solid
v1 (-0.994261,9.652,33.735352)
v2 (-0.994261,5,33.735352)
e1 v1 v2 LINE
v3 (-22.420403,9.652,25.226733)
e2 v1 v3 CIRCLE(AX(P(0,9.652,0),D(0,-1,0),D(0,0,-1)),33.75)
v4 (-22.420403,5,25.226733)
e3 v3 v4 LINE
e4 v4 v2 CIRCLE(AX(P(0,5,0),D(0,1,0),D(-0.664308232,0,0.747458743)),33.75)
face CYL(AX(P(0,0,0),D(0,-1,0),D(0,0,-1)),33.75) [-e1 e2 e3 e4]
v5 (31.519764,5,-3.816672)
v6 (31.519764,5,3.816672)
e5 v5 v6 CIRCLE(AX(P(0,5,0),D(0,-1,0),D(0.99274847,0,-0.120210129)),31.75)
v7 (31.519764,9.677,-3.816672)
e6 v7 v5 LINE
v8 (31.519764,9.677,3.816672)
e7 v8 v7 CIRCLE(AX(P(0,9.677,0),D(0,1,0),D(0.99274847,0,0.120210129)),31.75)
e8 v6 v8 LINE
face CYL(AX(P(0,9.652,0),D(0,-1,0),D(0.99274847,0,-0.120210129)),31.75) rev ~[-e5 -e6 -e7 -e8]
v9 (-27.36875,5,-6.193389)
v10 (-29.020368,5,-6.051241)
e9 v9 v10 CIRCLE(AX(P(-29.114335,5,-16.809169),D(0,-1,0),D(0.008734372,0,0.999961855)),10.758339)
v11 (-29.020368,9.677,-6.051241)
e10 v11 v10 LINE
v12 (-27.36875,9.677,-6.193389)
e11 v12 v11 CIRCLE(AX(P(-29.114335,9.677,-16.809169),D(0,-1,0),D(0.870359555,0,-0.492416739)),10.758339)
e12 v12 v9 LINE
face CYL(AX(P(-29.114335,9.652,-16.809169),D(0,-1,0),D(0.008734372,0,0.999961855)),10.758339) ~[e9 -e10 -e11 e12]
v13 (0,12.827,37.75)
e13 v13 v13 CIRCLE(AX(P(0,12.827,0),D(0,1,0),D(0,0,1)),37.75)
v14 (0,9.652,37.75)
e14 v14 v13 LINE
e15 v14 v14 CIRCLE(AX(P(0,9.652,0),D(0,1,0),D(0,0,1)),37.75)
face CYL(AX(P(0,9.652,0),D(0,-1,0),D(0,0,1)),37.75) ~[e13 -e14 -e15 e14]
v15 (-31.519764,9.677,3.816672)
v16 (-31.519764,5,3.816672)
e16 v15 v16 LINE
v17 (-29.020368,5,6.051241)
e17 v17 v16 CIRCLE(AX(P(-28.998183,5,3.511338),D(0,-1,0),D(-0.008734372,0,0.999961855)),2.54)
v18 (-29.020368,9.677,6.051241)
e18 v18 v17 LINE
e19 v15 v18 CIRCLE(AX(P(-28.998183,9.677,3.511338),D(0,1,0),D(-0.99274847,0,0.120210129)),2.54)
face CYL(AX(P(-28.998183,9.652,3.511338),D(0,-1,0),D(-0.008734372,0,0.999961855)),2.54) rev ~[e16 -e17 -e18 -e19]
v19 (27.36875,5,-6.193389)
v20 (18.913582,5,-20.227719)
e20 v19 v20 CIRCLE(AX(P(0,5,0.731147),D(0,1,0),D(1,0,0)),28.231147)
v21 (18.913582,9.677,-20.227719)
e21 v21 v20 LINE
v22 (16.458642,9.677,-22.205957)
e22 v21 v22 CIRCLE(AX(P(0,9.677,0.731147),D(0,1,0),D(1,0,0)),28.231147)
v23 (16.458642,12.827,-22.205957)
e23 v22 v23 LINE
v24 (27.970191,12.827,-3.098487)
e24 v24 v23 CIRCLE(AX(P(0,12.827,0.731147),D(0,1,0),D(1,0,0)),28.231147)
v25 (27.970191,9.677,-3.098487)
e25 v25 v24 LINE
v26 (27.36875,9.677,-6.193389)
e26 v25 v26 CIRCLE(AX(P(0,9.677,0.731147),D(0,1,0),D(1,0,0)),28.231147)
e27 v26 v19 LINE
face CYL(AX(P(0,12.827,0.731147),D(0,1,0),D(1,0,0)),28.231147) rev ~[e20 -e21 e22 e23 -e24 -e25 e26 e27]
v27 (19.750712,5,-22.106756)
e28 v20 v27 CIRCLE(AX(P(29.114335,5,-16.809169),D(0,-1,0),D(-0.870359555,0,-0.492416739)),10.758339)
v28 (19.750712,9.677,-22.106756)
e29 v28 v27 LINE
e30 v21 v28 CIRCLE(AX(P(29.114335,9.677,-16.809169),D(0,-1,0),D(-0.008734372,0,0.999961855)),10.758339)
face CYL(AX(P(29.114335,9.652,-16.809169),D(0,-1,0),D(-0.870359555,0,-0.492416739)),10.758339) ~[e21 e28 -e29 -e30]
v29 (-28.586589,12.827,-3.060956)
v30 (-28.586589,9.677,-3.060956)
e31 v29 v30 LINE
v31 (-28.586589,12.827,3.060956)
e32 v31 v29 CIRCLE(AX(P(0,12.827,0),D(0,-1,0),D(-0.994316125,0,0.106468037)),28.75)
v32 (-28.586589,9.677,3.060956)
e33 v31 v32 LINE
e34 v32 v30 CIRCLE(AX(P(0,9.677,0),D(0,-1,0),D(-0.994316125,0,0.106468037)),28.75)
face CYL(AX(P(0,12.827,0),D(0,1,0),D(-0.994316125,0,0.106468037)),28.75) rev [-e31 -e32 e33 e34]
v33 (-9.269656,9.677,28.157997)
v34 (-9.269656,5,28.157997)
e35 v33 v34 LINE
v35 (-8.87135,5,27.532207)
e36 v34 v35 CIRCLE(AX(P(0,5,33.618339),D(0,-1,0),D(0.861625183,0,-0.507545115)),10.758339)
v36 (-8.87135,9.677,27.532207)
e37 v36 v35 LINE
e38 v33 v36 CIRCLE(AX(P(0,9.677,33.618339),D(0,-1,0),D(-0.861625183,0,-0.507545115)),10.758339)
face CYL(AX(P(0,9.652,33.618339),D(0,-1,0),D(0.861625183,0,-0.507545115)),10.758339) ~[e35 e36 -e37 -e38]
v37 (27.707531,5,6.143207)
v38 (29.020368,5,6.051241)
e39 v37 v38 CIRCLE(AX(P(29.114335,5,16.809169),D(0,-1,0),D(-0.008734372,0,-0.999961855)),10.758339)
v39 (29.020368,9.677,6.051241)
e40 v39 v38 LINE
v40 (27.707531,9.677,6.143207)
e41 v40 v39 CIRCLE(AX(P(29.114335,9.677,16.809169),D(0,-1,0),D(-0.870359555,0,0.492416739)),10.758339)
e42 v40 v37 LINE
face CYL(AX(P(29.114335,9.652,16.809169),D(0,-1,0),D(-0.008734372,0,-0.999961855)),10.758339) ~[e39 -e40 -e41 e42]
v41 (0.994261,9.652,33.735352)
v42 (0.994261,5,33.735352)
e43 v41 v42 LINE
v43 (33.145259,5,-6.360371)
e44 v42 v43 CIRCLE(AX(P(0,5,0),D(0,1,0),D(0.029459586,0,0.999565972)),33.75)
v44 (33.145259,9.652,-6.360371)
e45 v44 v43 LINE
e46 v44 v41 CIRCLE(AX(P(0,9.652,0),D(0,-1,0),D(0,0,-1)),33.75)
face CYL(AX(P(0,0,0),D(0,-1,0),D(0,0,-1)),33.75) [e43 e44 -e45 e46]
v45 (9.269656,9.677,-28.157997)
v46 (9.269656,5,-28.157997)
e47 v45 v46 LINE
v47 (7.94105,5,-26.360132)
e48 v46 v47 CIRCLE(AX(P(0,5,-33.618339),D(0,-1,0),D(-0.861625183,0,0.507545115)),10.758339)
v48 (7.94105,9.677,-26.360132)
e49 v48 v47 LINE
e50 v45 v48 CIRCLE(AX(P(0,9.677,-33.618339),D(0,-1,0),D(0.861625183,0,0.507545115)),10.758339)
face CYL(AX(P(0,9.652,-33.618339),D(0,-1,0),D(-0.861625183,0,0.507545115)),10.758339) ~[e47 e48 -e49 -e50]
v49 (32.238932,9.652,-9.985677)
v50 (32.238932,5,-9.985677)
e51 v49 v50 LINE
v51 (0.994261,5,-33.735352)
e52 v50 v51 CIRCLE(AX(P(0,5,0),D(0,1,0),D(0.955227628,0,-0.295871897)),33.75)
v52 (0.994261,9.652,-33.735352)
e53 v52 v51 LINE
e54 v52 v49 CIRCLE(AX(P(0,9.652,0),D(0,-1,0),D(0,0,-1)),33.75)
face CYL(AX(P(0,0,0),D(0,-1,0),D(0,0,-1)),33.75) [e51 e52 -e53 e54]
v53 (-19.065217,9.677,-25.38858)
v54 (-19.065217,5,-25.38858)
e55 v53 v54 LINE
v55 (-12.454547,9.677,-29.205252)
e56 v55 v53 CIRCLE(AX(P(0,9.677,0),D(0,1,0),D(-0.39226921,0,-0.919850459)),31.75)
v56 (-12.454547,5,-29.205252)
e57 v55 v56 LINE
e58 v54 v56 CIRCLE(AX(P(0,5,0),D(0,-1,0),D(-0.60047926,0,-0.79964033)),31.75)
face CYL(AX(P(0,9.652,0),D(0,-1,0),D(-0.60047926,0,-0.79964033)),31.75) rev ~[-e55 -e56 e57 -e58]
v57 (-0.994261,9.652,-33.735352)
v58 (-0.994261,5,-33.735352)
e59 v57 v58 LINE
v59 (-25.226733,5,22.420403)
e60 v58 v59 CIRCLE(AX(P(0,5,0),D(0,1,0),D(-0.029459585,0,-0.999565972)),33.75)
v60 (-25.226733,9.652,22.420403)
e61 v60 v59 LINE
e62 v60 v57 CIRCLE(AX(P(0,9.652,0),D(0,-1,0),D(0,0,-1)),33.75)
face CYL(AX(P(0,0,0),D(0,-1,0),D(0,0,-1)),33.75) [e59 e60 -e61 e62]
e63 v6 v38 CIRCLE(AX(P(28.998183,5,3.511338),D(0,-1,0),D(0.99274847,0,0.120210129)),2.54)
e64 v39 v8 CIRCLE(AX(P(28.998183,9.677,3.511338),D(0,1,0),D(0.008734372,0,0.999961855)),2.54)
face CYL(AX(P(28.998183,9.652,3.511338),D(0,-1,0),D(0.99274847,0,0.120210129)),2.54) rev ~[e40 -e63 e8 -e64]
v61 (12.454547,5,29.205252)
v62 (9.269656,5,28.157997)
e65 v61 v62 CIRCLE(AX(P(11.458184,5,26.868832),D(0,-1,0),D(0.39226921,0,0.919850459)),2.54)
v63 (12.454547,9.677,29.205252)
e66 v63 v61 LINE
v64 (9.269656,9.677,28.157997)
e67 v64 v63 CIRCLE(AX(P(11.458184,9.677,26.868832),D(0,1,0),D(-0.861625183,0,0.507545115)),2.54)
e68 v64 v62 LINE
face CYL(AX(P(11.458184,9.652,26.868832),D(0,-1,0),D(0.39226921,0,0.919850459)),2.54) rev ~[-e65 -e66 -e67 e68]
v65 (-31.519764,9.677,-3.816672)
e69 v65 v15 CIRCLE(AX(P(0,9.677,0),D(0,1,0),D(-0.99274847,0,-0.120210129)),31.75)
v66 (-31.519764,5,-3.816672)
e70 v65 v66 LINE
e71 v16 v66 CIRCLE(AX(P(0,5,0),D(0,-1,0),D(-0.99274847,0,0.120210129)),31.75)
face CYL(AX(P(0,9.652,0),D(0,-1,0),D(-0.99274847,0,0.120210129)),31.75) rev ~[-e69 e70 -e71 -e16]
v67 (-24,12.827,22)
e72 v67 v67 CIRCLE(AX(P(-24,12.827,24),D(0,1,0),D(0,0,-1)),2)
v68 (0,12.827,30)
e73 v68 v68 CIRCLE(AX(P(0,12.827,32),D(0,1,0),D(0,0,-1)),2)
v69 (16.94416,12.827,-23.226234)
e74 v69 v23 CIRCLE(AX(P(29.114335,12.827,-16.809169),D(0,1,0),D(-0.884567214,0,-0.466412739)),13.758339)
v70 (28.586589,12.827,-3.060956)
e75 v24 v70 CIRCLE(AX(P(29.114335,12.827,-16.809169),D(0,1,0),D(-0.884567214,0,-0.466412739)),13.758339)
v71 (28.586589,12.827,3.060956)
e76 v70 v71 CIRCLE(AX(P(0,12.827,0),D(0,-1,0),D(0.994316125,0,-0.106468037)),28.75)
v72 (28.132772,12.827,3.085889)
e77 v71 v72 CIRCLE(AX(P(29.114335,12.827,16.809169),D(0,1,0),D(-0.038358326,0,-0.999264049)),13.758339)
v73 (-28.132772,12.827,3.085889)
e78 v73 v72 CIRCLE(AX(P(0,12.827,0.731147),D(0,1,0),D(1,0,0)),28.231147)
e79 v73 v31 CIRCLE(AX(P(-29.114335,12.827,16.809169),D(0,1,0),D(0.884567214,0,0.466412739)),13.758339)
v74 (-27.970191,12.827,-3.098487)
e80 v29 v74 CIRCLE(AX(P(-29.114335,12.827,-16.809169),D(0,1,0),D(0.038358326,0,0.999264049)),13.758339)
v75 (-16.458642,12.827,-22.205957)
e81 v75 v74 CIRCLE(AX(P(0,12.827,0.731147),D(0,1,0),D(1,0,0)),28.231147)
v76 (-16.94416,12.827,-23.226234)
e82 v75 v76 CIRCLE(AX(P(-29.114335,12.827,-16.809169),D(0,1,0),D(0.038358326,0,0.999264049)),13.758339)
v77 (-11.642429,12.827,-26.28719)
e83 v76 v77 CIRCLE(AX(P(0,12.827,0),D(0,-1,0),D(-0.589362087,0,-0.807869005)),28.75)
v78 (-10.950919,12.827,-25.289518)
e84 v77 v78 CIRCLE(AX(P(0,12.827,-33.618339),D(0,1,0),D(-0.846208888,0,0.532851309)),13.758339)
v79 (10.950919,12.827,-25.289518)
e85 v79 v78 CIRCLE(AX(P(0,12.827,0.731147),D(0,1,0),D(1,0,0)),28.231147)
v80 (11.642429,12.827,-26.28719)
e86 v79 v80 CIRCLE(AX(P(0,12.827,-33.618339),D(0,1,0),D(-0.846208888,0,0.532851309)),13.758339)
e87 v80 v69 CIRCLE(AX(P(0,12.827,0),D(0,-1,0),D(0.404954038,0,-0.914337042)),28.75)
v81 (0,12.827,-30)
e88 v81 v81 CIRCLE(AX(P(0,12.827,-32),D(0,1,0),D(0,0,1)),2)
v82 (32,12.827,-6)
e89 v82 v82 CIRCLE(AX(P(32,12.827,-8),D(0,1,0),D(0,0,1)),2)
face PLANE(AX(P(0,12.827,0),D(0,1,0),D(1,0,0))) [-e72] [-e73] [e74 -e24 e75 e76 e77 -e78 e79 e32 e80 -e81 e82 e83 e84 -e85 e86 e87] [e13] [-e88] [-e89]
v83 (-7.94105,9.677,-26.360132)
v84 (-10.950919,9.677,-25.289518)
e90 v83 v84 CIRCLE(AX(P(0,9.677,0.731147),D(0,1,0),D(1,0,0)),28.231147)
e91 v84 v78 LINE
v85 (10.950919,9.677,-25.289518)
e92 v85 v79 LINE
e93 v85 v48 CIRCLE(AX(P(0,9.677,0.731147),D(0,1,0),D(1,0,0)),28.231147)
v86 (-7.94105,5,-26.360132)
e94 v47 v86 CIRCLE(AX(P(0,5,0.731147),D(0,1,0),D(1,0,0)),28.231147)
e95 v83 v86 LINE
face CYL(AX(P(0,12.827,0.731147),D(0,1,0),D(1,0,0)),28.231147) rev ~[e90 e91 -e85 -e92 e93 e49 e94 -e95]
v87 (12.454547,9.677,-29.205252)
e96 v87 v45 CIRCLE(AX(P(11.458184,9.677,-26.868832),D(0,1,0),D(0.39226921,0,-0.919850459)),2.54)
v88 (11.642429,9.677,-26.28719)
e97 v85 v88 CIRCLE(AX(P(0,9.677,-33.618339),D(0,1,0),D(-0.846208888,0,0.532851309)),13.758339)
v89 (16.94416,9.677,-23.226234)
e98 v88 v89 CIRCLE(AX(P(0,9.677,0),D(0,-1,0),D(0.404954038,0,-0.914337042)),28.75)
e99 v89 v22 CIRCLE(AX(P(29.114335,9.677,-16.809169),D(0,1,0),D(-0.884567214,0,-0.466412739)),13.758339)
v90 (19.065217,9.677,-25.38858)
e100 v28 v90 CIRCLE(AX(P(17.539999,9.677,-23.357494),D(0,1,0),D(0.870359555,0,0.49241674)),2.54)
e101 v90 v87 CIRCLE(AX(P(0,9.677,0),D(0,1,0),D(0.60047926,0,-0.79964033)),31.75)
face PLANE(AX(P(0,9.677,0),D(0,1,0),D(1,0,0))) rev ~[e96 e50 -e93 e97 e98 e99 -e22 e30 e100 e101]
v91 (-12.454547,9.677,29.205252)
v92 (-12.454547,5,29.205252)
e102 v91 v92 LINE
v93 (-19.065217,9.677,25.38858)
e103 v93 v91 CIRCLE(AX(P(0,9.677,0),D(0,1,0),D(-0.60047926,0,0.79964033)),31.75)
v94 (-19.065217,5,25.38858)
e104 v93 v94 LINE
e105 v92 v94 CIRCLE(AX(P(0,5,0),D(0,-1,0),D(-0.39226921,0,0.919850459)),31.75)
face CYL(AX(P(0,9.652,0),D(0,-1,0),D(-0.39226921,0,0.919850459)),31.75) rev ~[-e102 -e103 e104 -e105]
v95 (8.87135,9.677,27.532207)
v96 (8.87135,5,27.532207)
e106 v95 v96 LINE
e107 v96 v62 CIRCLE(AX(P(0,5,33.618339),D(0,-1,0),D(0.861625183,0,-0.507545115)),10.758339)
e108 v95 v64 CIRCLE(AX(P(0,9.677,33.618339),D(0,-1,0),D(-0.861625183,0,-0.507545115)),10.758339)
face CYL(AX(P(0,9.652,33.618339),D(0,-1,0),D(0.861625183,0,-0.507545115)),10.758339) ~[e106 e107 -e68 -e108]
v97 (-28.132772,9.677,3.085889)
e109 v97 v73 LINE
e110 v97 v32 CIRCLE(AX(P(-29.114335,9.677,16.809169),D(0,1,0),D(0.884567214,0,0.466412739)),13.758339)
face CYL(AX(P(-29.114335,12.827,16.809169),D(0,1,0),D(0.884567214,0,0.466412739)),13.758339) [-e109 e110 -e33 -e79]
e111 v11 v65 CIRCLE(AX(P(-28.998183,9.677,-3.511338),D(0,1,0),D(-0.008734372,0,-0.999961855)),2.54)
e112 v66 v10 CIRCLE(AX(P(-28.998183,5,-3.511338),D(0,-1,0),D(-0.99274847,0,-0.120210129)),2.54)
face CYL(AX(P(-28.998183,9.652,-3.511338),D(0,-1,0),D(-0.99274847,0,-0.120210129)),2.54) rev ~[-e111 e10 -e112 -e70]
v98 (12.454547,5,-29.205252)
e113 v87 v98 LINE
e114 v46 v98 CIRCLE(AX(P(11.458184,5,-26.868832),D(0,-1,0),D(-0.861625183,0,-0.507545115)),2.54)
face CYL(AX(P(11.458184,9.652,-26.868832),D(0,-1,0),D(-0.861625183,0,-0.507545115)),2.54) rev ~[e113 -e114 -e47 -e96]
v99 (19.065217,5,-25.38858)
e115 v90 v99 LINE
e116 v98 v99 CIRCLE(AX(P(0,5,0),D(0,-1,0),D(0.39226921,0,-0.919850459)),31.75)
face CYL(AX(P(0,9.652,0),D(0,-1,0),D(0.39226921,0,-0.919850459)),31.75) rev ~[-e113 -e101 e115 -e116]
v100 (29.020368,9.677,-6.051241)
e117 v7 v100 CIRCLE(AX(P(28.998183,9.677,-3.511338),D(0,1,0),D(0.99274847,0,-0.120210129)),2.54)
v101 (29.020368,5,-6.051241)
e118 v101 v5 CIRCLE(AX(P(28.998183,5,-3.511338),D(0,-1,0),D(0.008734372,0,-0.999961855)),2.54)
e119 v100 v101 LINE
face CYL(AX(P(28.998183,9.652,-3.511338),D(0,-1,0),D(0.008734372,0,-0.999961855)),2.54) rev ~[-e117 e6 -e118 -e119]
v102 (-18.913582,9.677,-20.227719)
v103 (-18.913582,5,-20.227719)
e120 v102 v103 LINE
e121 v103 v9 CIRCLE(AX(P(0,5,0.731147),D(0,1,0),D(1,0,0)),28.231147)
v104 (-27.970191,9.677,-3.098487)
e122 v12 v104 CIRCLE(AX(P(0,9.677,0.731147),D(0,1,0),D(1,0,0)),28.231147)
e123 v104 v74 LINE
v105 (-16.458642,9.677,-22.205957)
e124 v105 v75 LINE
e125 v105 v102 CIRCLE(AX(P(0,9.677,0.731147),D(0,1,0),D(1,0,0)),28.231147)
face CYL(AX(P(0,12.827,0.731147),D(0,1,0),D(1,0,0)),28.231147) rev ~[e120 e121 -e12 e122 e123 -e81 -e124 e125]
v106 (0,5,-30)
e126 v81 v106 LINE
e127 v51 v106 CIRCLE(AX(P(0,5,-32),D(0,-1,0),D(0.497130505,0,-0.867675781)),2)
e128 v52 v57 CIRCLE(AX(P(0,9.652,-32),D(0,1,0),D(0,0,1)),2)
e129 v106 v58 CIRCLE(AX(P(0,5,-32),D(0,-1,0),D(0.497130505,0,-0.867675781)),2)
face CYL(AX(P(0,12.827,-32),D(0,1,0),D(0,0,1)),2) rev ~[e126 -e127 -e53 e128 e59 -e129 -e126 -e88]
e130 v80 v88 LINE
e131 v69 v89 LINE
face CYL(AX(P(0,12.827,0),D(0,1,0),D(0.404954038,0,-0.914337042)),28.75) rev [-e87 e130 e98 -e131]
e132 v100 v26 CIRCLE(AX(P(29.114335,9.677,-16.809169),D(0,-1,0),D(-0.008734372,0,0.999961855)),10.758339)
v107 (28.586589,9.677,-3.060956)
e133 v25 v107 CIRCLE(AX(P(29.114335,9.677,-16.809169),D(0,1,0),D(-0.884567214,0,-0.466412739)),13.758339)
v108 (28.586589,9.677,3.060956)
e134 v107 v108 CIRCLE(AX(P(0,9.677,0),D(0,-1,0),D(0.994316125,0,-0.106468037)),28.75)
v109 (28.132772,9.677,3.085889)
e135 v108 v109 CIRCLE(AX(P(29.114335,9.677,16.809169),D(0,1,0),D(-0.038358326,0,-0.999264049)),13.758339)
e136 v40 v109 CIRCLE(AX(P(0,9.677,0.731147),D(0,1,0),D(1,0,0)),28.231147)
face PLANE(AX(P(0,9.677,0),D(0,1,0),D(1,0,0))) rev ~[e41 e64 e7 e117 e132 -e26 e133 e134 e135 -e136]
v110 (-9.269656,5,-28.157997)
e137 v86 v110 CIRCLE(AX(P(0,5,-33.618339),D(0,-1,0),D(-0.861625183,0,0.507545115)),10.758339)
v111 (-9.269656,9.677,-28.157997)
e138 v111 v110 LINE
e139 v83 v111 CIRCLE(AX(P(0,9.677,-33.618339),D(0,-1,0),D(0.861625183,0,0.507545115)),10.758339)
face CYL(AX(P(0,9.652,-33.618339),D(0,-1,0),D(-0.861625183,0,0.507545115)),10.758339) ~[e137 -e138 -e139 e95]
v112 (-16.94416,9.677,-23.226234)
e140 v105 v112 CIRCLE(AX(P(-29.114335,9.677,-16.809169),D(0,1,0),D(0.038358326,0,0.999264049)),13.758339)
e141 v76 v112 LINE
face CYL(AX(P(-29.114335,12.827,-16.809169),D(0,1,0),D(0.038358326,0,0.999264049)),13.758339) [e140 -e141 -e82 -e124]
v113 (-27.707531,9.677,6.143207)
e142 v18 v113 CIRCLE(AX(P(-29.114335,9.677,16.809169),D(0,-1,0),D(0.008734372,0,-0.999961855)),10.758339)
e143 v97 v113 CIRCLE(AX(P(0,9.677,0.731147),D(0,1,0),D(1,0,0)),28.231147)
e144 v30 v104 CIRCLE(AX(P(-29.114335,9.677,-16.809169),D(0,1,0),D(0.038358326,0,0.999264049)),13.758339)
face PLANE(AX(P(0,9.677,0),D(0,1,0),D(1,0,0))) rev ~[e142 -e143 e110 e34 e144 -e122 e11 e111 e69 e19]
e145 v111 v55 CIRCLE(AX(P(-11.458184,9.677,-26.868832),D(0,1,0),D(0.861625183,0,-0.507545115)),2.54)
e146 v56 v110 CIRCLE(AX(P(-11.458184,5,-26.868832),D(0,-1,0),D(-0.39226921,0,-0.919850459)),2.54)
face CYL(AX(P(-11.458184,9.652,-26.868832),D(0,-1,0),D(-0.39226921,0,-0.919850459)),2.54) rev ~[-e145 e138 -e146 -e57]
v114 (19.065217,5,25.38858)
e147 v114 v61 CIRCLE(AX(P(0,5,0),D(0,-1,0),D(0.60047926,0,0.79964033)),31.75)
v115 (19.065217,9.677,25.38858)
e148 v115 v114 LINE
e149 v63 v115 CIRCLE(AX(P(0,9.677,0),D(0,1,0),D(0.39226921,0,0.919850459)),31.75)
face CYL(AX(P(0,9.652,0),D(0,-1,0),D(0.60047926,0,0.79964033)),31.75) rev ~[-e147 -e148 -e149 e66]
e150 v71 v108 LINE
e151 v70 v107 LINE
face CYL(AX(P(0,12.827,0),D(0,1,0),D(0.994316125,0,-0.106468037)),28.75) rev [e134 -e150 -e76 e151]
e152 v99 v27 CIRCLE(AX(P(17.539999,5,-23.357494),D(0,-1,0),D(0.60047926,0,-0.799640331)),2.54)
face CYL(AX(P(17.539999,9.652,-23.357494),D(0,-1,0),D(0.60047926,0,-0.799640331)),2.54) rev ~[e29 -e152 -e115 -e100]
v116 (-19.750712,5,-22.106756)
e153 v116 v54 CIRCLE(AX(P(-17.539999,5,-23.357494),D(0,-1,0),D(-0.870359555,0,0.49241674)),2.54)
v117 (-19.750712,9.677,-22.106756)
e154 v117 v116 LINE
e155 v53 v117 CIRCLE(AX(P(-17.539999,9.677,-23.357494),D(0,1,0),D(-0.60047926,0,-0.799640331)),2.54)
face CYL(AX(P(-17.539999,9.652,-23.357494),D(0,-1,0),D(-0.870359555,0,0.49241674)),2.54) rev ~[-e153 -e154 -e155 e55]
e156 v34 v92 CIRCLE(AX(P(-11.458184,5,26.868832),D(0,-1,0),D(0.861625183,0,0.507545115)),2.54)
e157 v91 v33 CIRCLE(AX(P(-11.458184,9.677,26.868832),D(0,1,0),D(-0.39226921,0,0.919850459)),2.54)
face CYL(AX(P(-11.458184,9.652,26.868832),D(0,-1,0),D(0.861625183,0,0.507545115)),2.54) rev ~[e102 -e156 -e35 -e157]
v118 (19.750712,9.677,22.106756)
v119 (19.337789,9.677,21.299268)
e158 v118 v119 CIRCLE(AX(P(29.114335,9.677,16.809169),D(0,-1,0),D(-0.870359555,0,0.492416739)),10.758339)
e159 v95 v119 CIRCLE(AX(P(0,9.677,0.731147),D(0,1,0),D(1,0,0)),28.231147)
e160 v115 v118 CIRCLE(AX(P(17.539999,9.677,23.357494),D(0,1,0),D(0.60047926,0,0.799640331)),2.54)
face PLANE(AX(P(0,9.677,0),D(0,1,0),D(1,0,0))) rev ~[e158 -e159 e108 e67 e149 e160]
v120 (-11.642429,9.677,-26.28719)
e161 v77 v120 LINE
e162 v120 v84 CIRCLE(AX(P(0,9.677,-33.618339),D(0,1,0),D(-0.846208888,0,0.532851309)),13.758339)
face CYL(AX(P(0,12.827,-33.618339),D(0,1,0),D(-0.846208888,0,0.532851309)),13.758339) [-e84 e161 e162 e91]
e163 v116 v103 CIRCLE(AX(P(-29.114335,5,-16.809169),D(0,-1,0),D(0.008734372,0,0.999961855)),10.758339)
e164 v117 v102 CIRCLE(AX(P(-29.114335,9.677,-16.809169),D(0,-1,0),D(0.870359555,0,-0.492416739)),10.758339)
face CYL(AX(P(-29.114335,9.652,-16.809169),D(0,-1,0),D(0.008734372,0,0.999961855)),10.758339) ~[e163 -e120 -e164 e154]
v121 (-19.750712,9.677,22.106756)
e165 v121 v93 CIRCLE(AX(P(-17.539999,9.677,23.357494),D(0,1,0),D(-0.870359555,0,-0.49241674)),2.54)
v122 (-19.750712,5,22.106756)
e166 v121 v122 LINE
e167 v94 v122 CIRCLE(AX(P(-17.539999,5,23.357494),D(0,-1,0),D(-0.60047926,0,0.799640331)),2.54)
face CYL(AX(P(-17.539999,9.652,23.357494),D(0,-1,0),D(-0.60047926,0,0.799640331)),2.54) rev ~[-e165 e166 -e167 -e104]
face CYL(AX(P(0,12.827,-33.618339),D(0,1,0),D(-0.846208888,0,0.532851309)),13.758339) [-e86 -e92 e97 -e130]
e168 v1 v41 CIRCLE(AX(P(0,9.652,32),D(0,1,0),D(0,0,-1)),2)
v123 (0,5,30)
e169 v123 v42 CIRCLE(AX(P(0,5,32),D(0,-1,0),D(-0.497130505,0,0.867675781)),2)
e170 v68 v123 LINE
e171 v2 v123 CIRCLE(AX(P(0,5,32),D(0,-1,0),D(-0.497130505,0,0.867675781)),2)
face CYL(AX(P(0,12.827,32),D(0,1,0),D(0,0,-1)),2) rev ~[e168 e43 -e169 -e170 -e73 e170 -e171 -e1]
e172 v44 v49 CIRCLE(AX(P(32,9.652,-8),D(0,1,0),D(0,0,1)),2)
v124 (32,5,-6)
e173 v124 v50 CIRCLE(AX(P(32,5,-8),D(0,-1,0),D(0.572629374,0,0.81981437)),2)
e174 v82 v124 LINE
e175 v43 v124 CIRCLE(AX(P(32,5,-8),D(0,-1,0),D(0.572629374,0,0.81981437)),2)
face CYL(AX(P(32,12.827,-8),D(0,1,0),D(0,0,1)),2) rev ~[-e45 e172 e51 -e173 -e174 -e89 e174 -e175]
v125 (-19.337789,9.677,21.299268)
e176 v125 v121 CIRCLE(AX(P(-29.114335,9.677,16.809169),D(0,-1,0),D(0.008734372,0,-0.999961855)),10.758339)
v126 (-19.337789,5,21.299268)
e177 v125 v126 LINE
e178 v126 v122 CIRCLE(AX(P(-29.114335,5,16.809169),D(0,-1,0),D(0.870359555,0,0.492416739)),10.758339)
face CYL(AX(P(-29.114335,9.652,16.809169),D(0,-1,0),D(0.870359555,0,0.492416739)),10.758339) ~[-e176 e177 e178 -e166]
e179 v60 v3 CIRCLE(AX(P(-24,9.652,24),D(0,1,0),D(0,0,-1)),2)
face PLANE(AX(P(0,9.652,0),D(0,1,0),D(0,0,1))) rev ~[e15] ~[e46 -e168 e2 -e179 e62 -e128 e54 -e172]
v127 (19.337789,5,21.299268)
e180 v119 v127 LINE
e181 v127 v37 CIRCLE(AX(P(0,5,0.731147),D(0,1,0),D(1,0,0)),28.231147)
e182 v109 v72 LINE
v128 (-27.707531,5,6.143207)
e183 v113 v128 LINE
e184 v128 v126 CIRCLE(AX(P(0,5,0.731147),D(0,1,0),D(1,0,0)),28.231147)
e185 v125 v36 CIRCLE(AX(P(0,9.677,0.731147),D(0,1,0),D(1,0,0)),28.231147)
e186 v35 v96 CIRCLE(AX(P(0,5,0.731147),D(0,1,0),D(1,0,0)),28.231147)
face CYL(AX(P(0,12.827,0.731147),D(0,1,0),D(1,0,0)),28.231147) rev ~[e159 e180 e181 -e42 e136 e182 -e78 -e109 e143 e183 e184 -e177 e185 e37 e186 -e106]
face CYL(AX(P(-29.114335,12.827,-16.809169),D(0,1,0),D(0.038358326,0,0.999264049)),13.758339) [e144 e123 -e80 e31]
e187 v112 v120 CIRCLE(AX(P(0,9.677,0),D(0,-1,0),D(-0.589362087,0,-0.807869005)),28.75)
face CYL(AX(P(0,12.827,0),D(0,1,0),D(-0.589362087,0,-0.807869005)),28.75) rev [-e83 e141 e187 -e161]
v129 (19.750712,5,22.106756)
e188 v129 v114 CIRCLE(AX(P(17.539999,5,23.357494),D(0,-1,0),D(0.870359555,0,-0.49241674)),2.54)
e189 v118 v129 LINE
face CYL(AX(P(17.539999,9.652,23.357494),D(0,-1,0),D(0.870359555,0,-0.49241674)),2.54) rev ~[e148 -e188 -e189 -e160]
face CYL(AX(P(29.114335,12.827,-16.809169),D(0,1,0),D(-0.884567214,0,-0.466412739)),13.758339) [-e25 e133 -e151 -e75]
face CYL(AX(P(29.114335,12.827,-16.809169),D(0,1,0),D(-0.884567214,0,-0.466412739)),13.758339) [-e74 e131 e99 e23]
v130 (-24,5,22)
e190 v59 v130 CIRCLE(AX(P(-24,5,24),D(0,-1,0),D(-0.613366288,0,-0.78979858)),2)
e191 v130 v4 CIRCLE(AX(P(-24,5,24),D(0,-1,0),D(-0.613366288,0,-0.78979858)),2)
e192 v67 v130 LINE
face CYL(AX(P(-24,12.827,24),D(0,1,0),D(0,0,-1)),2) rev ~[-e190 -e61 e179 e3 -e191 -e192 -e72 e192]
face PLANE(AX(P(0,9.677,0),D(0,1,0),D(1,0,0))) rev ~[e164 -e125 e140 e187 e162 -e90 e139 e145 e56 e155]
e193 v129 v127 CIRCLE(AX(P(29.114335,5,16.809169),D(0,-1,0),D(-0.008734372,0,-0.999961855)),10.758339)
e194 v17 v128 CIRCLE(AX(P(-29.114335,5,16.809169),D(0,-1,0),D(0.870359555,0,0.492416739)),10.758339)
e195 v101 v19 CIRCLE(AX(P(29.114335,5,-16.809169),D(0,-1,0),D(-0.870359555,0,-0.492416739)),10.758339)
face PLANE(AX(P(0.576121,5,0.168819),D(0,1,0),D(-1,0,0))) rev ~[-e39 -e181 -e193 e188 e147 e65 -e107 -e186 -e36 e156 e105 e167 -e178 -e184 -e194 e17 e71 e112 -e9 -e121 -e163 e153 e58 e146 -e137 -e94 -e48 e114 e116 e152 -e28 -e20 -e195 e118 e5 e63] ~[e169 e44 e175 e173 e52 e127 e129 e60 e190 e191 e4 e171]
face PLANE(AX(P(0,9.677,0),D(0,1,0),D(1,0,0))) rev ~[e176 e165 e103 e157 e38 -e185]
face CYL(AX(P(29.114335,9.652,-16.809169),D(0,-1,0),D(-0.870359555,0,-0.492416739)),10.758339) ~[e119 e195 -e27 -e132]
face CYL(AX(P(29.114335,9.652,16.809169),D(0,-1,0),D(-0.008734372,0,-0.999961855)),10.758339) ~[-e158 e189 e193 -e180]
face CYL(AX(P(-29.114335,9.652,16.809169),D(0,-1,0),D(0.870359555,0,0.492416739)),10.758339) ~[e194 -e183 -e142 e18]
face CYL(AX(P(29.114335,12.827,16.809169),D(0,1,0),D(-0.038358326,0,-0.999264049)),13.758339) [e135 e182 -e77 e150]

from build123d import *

# Parameters (mm, degrees)
SKETCH1_R           = 6.35
BOSS_EXTRUDE1_DEPTH = 9.652
FILLET1_R           = 2.54
SKETCH2_R           = 33.75
BOSS_EXTRUDE2_DEPTH = 9.652
CUT_EXTRUDE1_DEPTH  = 49.695853067
SKETCH4_R           = 37.75
SKETCH4_R_2         = 33.75
BOSS_EXTRUDE3_DEPTH = 3.175
BOSS_EXTRUDE4_DEPTH = 3.15
CUT_EXTRUDE2_DEPTH  = 61.228214281
SKETCH6_R           = 28.231147361
CUT_EXTRUDE3_DEPTH  = 61.228214281
CUT_EXTRUDE5_DEPTH  = 5


with BuildPart() as part:
    # Sketch1 → Boss-Extrude1 (new body)
    with BuildSketch(Plane(origin=(0, 0, 0), x_dir=(1, 0, 0), z_dir=(0, 1, 0))):
        with BuildLine():
            ThreePointArc((-10.16, 30.080506977), (0, 22.86), (10.16, 30.080506977))
            ThreePointArc((10.16, 30.080506977), (15.875, 27.49630657), (20.970483201, 23.839071591))
            ThreePointArc((20.970483201, 23.839071591), (19.797340731, 11.43), (31.130483201, 6.241435386))
            ThreePointArc((31.130483201, 6.241435386), (31.75, 0), (31.130483201, -6.241435386))
            ThreePointArc((31.130483201, -6.241435386), (19.797340731, -11.43), (20.970483201, -23.839071591))
            ThreePointArc((20.970483201, -23.839071591), (15.875, -27.49630657), (10.16, -30.080506977))
            ThreePointArc((10.16, -30.080506977), (0, -22.86), (-10.16, -30.080506977))
            ThreePointArc((-10.16, -30.080506977), (-15.875, -27.49630657), (-20.970483201, -23.839071591))
            ThreePointArc((-20.970483201, -23.839071591), (-19.797340731, -11.43), (-31.130483201, -6.241435386))
            ThreePointArc((-31.130483201, -6.241435386), (-31.75, 0), (-31.130483201, 6.241435386))
            ThreePointArc((-31.130483201, 6.241435386), (-19.797340731, 11.43), (-20.970483201, 23.839071591))
            ThreePointArc((-20.970483201, 23.839071591), (-15.875, 27.49630657), (-10.16, 30.080506977))
        make_face()
        with Locations(Location((0, 0, 0), (0, 0, 270))):
            Circle(SKETCH1_R, mode=Mode.SUBTRACT)
    extrude(amount=BOSS_EXTRUDE1_DEPTH)

    # Fillet1
    fillet1_edges = [part.edges().sort_by_distance(p)[0] for p in [
        (-10.16, 4.826, -30.080506977),
        (10.16, 4.826, -30.080506977),
        (20.970483201, 4.826, -23.839071591),
        (31.130483201, 4.826, -6.241435386),
        (31.130483201, 4.826, 6.241435386),
        (20.970483201, 4.826, 23.839071591),
        (10.16, 4.826, 30.080506977),
        (-10.16, 4.826, 30.080506977),
        (-20.970483201, 4.826, 23.839071591),
        (-31.130483201, 4.826, 6.241435386),
        (-31.130483201, 4.826, -6.241435386),
        (-20.970483201, 4.826, -23.839071591),
    ]]
    fillet(fillet1_edges, radius=FILLET1_R)

    # Sketch3 → Cut-Extrude1 (cut, through all)
    with BuildSketch(Plane(origin=(0, 9.652, 0), x_dir=(1, 0, 0), z_dir=(0, 1, 0))):
        with BuildLine():
            ThreePointArc((12.454547411, -29.205252076), (15.875, -27.49630657), (19.065216516, -25.388580488))
            ThreePointArc((19.065216516, -25.388580488), (20.026339499, -23.876831986), (19.750712464, -22.106755531))
            ThreePointArc((19.750712464, -22.106755531), (19.797340731, -11.43), (29.020368117, -6.051240971))
            ThreePointArc((29.020368117, -6.051240971), (30.691112811, -5.404902757), (31.519763927, -3.816671587))
            ThreePointArc((31.519763927, -3.816671587), (31.75, 0), (31.519763927, 3.816671587))
            ThreePointArc((31.519763927, 3.816671587), (30.691112811, 5.404902757), (29.020368117, 6.051240971))
            ThreePointArc((29.020368117, 6.051240971), (19.797340731, 11.43), (19.750712464, 22.106755531))
            ThreePointArc((19.750712464, 22.106755531), (20.026339499, 23.876831986), (19.065216516, 25.388580488))
            ThreePointArc((19.065216516, 25.388580488), (15.875, 27.49630657), (12.454547411, 29.205252076))
            ThreePointArc((12.454547411, 29.205252076), (10.664773313, 29.281734744), (9.269655653, 28.157996502))
            ThreePointArc((9.269655653, 28.157996502), (0, 22.86), (-9.269655653, 28.157996502))
            ThreePointArc((-9.269655653, 28.157996502), (-10.664773313, 29.281734744), (-12.454547411, 29.205252076))
            ThreePointArc((-12.454547411, 29.205252076), (-15.875, 27.49630657), (-19.065216516, 25.388580488))
            ThreePointArc((-19.065216516, 25.388580488), (-20.026339499, 23.876831986), (-19.750712464, 22.106755531))
            ThreePointArc((-19.750712464, 22.106755531), (-19.797340731, 11.43), (-29.020368117, 6.051240971))
            ThreePointArc((-29.020368117, 6.051240971), (-30.691112811, 5.404902757), (-31.519763927, 3.816671587))
            ThreePointArc((-31.519763927, 3.816671587), (-31.75, 0), (-31.519763927, -3.816671587))
            ThreePointArc((-31.519763927, -3.816671587), (-30.691112811, -5.404902757), (-29.020368117, -6.051240971))
            ThreePointArc((-29.020368117, -6.051240971), (-19.797340731, -11.43), (-19.750712464, -22.106755531))
            ThreePointArc((-19.750712464, -22.106755531), (-20.026339499, -23.876831986), (-19.065216516, -25.388580488))
            ThreePointArc((-19.065216516, -25.388580488), (-15.875, -27.49630657), (-12.454547411, -29.205252076))
            ThreePointArc((-12.454547411, -29.205252076), (-10.664773313, -29.281734744), (-9.269655653, -28.157996502))
            ThreePointArc((-9.269655653, -28.157996502), (0, -22.86), (9.269655653, -28.157996502))
            ThreePointArc((9.269655653, -28.157996502), (10.664773313, -29.281734744), (12.454547411, -29.205252076))
        make_face()
    extrude(amount=-CUT_EXTRUDE1_DEPTH, mode=Mode.SUBTRACT)


with BuildPart() as body_2:
    # Sketch2 → Boss-Extrude2 (new, through all)
    with BuildSketch(Plane.XZ):
        with Locations(Location((0, 0, 0), (0, 0, 270))):
            Circle(SKETCH2_R)
        with BuildLine():
            ThreePointArc((19.750712464, 22.106755531), (19.797340731, 11.43), (29.020368117, 6.051240971))
            ThreePointArc((29.020368117, 6.051240971), (30.691112811, 5.404902757), (31.519763927, 3.816671587))
            ThreePointArc((31.519763927, 3.816671587), (31.75, 0), (31.519763927, -3.816671587))
            ThreePointArc((31.519763927, -3.816671587), (30.691112811, -5.404902757), (29.020368117, -6.051240971))
            ThreePointArc((29.020368117, -6.051240971), (19.797340731, -11.43), (19.750712464, -22.106755531))
            ThreePointArc((19.750712464, -22.106755531), (20.026339499, -23.876831986), (19.065216516, -25.388580488))
            ThreePointArc((19.065216516, -25.388580488), (15.875, -27.49630657), (12.454547411, -29.205252076))
            ThreePointArc((12.454547411, -29.205252076), (10.664773313, -29.281734744), (9.269655653, -28.157996502))
            ThreePointArc((9.269655653, -28.157996502), (0, -22.86), (-9.269655653, -28.157996502))
            ThreePointArc((-9.269655653, -28.157996502), (-10.664773313, -29.281734744), (-12.454547411, -29.205252076))
            ThreePointArc((-12.454547411, -29.205252076), (-15.875, -27.49630657), (-19.065216516, -25.388580488))
            ThreePointArc((-19.065216516, -25.388580488), (-20.026339499, -23.876831986), (-19.750712464, -22.106755531))
            ThreePointArc((-19.750712464, -22.106755531), (-19.797340731, -11.43), (-29.020368117, -6.051240971))
            ThreePointArc((-29.020368117, -6.051240971), (-30.691112811, -5.404902757), (-31.519763927, -3.816671587))
            ThreePointArc((-31.519763927, -3.816671587), (-31.75, 0), (-31.519763927, 3.816671587))
            ThreePointArc((-31.519763927, 3.816671587), (-30.691112811, 5.404902757), (-29.020368117, 6.051240971))
            ThreePointArc((-29.020368117, 6.051240971), (-19.797340731, 11.43), (-19.750712464, 22.106755531))
            ThreePointArc((-19.750712464, 22.106755531), (-20.026339499, 23.876831986), (-19.065216516, 25.388580488))
            ThreePointArc((-19.065216516, 25.388580488), (-15.875, 27.49630657), (-12.454547411, 29.205252076))
            ThreePointArc((-12.454547411, 29.205252076), (-10.664773313, 29.281734744), (-9.269655653, 28.157996502))
            ThreePointArc((-9.269655653, 28.157996502), (0, 22.86), (9.269655653, 28.157996502))
            ThreePointArc((9.269655653, 28.157996502), (10.664773313, 29.281734744), (12.454547411, 29.205252076))
            ThreePointArc((12.454547411, 29.205252076), (15.875, 27.49630657), (19.065216516, 25.388580488))
            ThreePointArc((19.065216516, 25.388580488), (20.026339499, 23.876831986), (19.750712464, 22.106755531))
        make_face(mode=Mode.SUBTRACT)
    extrude(amount=-BOSS_EXTRUDE2_DEPTH)

    # Sketch4 → Boss-Extrude3 (add)
    # profile 1 of 2: a face of its own
    with BuildSketch(Plane(origin=(0, 9.652, 0), x_dir=(1, 0, 0), z_dir=(0, 1, 0))):
        with Locations(Location((0, 0, 0), (0, 0, 270))):
            Circle(SKETCH4_R)
        with Locations(Location((0, 0, 0), (0, 0, 90))):
            Circle(SKETCH4_R_2, mode=Mode.SUBTRACT)
    # profile 2 of 2: a face of its own
    with BuildSketch(Plane(origin=(0, 9.652, 0), x_dir=(1, 0, 0), z_dir=(0, 1, 0))):
        with Locations(Location((0, 0, 0), (0, 0, 90))):
            Circle(SKETCH4_R_2)
        with BuildLine():
            ThreePointArc((31.519763927, -3.816671587), (30.691112811, -5.404902757), (29.020368117, -6.051240971))
            ThreePointArc((29.020368117, -6.051240971), (19.797340731, -11.43), (19.750712464, -22.106755531))
            ThreePointArc((19.750712464, -22.106755531), (20.026339499, -23.876831986), (19.065216516, -25.388580488))
            ThreePointArc((19.065216516, -25.388580488), (15.875, -27.49630657), (12.454547411, -29.205252076))
            ThreePointArc((12.454547411, -29.205252076), (10.664773313, -29.281734744), (9.269655653, -28.157996502))
            ThreePointArc((9.269655653, -28.157996502), (0, -22.86), (-9.269655653, -28.157996502))
            ThreePointArc((-9.269655653, -28.157996502), (-10.664773313, -29.281734744), (-12.454547411, -29.205252076))
            ThreePointArc((-12.454547411, -29.205252076), (-15.875, -27.49630657), (-19.065216516, -25.388580488))
            ThreePointArc((-19.065216516, -25.388580488), (-20.026339499, -23.876831986), (-19.750712464, -22.106755531))
            ThreePointArc((-19.750712464, -22.106755531), (-19.797340731, -11.43), (-29.020368117, -6.051240971))
            ThreePointArc((-29.020368117, -6.051240971), (-30.691112811, -5.404902757), (-31.519763927, -3.816671587))
            ThreePointArc((-31.519763927, -3.816671587), (-31.75, 0), (-31.519763927, 3.816671587))
            ThreePointArc((-31.519763927, 3.816671587), (-30.691112811, 5.404902757), (-29.020368117, 6.051240971))
            ThreePointArc((-29.020368117, 6.051240971), (-19.797340731, 11.43), (-19.750712464, 22.106755531))
            ThreePointArc((-19.750712464, 22.106755531), (-20.026339499, 23.876831986), (-19.065216516, 25.388580488))
            ThreePointArc((-19.065216516, 25.388580488), (-15.875, 27.49630657), (-12.454547411, 29.205252076))
            ThreePointArc((-12.454547411, 29.205252076), (-10.664773313, 29.281734744), (-9.269655653, 28.157996502))
            ThreePointArc((-9.269655653, 28.157996502), (0, 22.86), (9.269655653, 28.157996502))
            ThreePointArc((9.269655653, 28.157996502), (10.664773313, 29.281734744), (12.454547411, 29.205252076))
            ThreePointArc((12.454547411, 29.205252076), (15.875, 27.49630657), (19.065216516, 25.388580488))
            ThreePointArc((19.065216516, 25.388580488), (20.026339499, 23.876831986), (19.750712464, 22.106755531))
            ThreePointArc((19.750712464, 22.106755531), (19.797340731, 11.43), (29.020368117, 6.051240971))
            ThreePointArc((29.020368117, 6.051240971), (30.691112811, 5.404902757), (31.519763927, 3.816671587))
            ThreePointArc((31.519763927, 3.816671587), (31.75, 0), (31.519763927, -3.816671587))
        make_face(mode=Mode.SUBTRACT)
    extrude(amount=BOSS_EXTRUDE3_DEPTH)

    # Sketch9 → Boss-Extrude4 (add)
    with BuildSketch(Plane(origin=(0, 12.827, 0), x_dir=(1, 0, 0), z_dir=(0, 1, 0))):
        with BuildLine():
            ThreePointArc((-19.065216516, 25.388580488), (-20.026339499, 23.876831986), (-19.750712464, 22.106755531))
            ThreePointArc((-19.750712464, 22.106755531), (-19.797340731, 11.43), (-29.020368117, 6.051240971))
            ThreePointArc((-29.020368117, 6.051240971), (-30.691112811, 5.404902757), (-31.519763927, 3.816671587))
            ThreePointArc((-31.519763927, 3.816671587), (-31.75, 0), (-31.519763927, -3.816671587))
            ThreePointArc((-31.519763927, -3.816671587), (-30.691112811, -5.404902757), (-29.020368117, -6.051240971))
            ThreePointArc((-29.020368117, -6.051240971), (-19.797340731, -11.43), (-19.750712464, -22.106755531))
            ThreePointArc((-19.750712464, -22.106755531), (-20.026339499, -23.876831986), (-19.065216516, -25.388580488))
            ThreePointArc((-19.065216516, -25.388580488), (-15.875, -27.49630657), (-12.454547411, -29.205252076))
            ThreePointArc((-12.454547411, -29.205252076), (-10.664773313, -29.281734744), (-9.269655653, -28.157996502))
            ThreePointArc((-9.269655653, -28.157996502), (0, -22.86), (9.269655653, -28.157996502))
            ThreePointArc((9.269655653, -28.157996502), (10.664773313, -29.281734744), (12.454547411, -29.205252076))
            ThreePointArc((12.454547411, -29.205252076), (15.875, -27.49630657), (19.065216516, -25.388580488))
            ThreePointArc((19.065216516, -25.388580488), (20.026339499, -23.876831986), (19.750712464, -22.106755531))
            ThreePointArc((19.750712464, -22.106755531), (19.797340731, -11.43), (29.020368117, -6.051240971))
            ThreePointArc((29.020368117, -6.051240971), (30.691112811, -5.404902757), (31.519763927, -3.816671587))
            ThreePointArc((31.519763927, -3.816671587), (31.75, 0), (31.519763927, 3.816671587))
            ThreePointArc((31.519763927, 3.816671587), (30.691112811, 5.404902757), (29.020368117, 6.051240971))
            ThreePointArc((29.020368117, 6.051240971), (19.797340731, 11.43), (19.750712464, 22.106755531))
            ThreePointArc((19.750712464, 22.106755531), (20.026339499, 23.876831986), (19.065216516, 25.388580488))
            ThreePointArc((19.065216516, 25.388580488), (15.875, 27.49630657), (12.454547411, 29.205252076))
            ThreePointArc((12.454547411, 29.205252076), (10.664773313, 29.281734744), (9.269655653, 28.157996502))
            ThreePointArc((9.269655653, 28.157996502), (0, 22.86), (-9.269655653, 28.157996502))
            ThreePointArc((-9.269655653, 28.157996502), (-10.664773313, 29.281734744), (-12.454547411, 29.205252076))
            ThreePointArc((-12.454547411, 29.205252076), (-15.875, 27.49630657), (-19.065216516, 25.388580488))
        make_face()
        with BuildLine():
            ThreePointArc((-28.586588604, 3.060956059), (-17.199264519, 9.93), (-16.944160009, 23.226233909))
            ThreePointArc((-16.944160009, 23.226233909), (-14.375, 24.898230359), (-11.642428595, 26.287189968))
            ThreePointArc((-11.642428595, 26.287189968), (0, 19.86), (11.642428595, 26.287189968))
            ThreePointArc((11.642428595, 26.287189968), (14.375, 24.898230359), (16.944160009, 23.226233909))
            ThreePointArc((16.944160009, 23.226233909), (17.199264519, 9.93), (28.586588604, 3.060956059))
            ThreePointArc((28.586588604, 3.060956059), (28.75, 0), (28.586588604, -3.060956059))
            ThreePointArc((28.586588604, -3.060956059), (17.199264519, -9.93), (16.944160009, -23.226233909))
            ThreePointArc((16.944160009, -23.226233909), (14.375, -24.898230359), (11.642428595, -26.287189968))
            ThreePointArc((11.642428595, -26.287189968), (0, -19.86), (-11.642428595, -26.287189968))
            ThreePointArc((-11.642428595, -26.287189968), (-14.375, -24.898230359), (-16.944160009, -23.226233909))
            ThreePointArc((-16.944160009, -23.226233909), (-17.199264519, -9.93), (-28.586588604, -3.060956059))
            ThreePointArc((-28.586588604, -3.060956059), (-28.75, 0), (-28.586588604, 3.060956059))
        make_face(mode=Mode.SUBTRACT)
    extrude(amount=-BOSS_EXTRUDE4_DEPTH)

    # Sketch5 → Cut-Extrude2 (cut, through all)
    with BuildSketch(Plane(origin=(-2.874930527, 12.827, -4.823711209), x_dir=(1, 0, 0), z_dir=(0, 1, 0))):
        with BuildLine():
            ThreePointArc((-21.125069473, -30.823711209), (-19.125069473, -28.823711209), (-21.125069473, -26.823711209))
            ThreePointArc((-21.125069473, -26.823711209), (-23.125069473, -28.823711209), (-21.125069473, -30.823711209))
        make_face()
        with BuildLine():
            ThreePointArc((34.874930527, 5.176288791), (32.874930527, 3.176288791), (34.874930527, 1.176288791))
            ThreePointArc((34.874930527, 1.176288791), (36.874930527, 3.176288791), (34.874930527, 5.176288791))
        make_face()
        with BuildLine():
            ThreePointArc((2.874930527, 29.176288791), (0.874930527, 27.176288791), (2.874930527, 25.176288791))
            ThreePointArc((2.874930527, 25.176288791), (4.874930527, 27.176288791), (2.874930527, 29.176288791))
        make_face()
        with BuildLine():
            ThreePointArc((2.874930527, -38.823711209), (4.874930527, -36.823711209), (2.874930527, -34.823711209))
            ThreePointArc((2.874930527, -34.823711209), (0.874930527, -36.823711209), (2.874930527, -38.823711209))
        make_face()
    extrude(amount=-CUT_EXTRUDE2_DEPTH, mode=Mode.SUBTRACT)

    # Sketch6 → Cut-Extrude3 (cut, through all)
    with BuildSketch(Plane(origin=(-2.874930527, 12.827, -4.823711209), x_dir=(1, 0, 0), z_dir=(0, 1, 0))):
        with Locations((2.874930527, -5.55485857)):
            Circle(SKETCH6_R)
    extrude(amount=-CUT_EXTRUDE3_DEPTH, mode=Mode.SUBTRACT)

    # Sketch8 → Cut-Extrude5 (cut)
    with BuildSketch(Plane.XZ):
        with BuildLine():
            ThreePointArc((-25.226732576, 22.42040284), (-22.585786438, 22.585786438), (-22.42040284, 25.226732576))
            ThreePointArc((-22.42040284, 25.226732576), (-12.456354606, 31.367207876), (-0.994261009, 33.735351562))
            ThreePointArc((-0.994261009, 33.735351562), (0, 30), (0.994261009, 33.735351563))
            ThreePointArc((0.994261009, 33.735351563), (26.330466184, 21.113243486), (33.145258747, -6.360371261))
            ThreePointArc((33.145258747, -6.360371261), (30.059715, -7.51492875), (32.238932429, -9.985676533))
            ThreePointArc((32.238932429, -9.985676533), (20.423590589, -26.868930896), (0.994261009, -33.735351562))
            ThreePointArc((0.994261009, -33.735351562), (0, -30), (-0.994261009, -33.735351562))
            ThreePointArc((-0.994261009, -33.735351562), (-30.987938207, -13.371992585), (-25.226732576, 22.42040284))
        make_face()
    extrude(amount=-CUT_EXTRUDE5_DEPTH, mode=Mode.SUBTRACT)


solid = body_2.part
